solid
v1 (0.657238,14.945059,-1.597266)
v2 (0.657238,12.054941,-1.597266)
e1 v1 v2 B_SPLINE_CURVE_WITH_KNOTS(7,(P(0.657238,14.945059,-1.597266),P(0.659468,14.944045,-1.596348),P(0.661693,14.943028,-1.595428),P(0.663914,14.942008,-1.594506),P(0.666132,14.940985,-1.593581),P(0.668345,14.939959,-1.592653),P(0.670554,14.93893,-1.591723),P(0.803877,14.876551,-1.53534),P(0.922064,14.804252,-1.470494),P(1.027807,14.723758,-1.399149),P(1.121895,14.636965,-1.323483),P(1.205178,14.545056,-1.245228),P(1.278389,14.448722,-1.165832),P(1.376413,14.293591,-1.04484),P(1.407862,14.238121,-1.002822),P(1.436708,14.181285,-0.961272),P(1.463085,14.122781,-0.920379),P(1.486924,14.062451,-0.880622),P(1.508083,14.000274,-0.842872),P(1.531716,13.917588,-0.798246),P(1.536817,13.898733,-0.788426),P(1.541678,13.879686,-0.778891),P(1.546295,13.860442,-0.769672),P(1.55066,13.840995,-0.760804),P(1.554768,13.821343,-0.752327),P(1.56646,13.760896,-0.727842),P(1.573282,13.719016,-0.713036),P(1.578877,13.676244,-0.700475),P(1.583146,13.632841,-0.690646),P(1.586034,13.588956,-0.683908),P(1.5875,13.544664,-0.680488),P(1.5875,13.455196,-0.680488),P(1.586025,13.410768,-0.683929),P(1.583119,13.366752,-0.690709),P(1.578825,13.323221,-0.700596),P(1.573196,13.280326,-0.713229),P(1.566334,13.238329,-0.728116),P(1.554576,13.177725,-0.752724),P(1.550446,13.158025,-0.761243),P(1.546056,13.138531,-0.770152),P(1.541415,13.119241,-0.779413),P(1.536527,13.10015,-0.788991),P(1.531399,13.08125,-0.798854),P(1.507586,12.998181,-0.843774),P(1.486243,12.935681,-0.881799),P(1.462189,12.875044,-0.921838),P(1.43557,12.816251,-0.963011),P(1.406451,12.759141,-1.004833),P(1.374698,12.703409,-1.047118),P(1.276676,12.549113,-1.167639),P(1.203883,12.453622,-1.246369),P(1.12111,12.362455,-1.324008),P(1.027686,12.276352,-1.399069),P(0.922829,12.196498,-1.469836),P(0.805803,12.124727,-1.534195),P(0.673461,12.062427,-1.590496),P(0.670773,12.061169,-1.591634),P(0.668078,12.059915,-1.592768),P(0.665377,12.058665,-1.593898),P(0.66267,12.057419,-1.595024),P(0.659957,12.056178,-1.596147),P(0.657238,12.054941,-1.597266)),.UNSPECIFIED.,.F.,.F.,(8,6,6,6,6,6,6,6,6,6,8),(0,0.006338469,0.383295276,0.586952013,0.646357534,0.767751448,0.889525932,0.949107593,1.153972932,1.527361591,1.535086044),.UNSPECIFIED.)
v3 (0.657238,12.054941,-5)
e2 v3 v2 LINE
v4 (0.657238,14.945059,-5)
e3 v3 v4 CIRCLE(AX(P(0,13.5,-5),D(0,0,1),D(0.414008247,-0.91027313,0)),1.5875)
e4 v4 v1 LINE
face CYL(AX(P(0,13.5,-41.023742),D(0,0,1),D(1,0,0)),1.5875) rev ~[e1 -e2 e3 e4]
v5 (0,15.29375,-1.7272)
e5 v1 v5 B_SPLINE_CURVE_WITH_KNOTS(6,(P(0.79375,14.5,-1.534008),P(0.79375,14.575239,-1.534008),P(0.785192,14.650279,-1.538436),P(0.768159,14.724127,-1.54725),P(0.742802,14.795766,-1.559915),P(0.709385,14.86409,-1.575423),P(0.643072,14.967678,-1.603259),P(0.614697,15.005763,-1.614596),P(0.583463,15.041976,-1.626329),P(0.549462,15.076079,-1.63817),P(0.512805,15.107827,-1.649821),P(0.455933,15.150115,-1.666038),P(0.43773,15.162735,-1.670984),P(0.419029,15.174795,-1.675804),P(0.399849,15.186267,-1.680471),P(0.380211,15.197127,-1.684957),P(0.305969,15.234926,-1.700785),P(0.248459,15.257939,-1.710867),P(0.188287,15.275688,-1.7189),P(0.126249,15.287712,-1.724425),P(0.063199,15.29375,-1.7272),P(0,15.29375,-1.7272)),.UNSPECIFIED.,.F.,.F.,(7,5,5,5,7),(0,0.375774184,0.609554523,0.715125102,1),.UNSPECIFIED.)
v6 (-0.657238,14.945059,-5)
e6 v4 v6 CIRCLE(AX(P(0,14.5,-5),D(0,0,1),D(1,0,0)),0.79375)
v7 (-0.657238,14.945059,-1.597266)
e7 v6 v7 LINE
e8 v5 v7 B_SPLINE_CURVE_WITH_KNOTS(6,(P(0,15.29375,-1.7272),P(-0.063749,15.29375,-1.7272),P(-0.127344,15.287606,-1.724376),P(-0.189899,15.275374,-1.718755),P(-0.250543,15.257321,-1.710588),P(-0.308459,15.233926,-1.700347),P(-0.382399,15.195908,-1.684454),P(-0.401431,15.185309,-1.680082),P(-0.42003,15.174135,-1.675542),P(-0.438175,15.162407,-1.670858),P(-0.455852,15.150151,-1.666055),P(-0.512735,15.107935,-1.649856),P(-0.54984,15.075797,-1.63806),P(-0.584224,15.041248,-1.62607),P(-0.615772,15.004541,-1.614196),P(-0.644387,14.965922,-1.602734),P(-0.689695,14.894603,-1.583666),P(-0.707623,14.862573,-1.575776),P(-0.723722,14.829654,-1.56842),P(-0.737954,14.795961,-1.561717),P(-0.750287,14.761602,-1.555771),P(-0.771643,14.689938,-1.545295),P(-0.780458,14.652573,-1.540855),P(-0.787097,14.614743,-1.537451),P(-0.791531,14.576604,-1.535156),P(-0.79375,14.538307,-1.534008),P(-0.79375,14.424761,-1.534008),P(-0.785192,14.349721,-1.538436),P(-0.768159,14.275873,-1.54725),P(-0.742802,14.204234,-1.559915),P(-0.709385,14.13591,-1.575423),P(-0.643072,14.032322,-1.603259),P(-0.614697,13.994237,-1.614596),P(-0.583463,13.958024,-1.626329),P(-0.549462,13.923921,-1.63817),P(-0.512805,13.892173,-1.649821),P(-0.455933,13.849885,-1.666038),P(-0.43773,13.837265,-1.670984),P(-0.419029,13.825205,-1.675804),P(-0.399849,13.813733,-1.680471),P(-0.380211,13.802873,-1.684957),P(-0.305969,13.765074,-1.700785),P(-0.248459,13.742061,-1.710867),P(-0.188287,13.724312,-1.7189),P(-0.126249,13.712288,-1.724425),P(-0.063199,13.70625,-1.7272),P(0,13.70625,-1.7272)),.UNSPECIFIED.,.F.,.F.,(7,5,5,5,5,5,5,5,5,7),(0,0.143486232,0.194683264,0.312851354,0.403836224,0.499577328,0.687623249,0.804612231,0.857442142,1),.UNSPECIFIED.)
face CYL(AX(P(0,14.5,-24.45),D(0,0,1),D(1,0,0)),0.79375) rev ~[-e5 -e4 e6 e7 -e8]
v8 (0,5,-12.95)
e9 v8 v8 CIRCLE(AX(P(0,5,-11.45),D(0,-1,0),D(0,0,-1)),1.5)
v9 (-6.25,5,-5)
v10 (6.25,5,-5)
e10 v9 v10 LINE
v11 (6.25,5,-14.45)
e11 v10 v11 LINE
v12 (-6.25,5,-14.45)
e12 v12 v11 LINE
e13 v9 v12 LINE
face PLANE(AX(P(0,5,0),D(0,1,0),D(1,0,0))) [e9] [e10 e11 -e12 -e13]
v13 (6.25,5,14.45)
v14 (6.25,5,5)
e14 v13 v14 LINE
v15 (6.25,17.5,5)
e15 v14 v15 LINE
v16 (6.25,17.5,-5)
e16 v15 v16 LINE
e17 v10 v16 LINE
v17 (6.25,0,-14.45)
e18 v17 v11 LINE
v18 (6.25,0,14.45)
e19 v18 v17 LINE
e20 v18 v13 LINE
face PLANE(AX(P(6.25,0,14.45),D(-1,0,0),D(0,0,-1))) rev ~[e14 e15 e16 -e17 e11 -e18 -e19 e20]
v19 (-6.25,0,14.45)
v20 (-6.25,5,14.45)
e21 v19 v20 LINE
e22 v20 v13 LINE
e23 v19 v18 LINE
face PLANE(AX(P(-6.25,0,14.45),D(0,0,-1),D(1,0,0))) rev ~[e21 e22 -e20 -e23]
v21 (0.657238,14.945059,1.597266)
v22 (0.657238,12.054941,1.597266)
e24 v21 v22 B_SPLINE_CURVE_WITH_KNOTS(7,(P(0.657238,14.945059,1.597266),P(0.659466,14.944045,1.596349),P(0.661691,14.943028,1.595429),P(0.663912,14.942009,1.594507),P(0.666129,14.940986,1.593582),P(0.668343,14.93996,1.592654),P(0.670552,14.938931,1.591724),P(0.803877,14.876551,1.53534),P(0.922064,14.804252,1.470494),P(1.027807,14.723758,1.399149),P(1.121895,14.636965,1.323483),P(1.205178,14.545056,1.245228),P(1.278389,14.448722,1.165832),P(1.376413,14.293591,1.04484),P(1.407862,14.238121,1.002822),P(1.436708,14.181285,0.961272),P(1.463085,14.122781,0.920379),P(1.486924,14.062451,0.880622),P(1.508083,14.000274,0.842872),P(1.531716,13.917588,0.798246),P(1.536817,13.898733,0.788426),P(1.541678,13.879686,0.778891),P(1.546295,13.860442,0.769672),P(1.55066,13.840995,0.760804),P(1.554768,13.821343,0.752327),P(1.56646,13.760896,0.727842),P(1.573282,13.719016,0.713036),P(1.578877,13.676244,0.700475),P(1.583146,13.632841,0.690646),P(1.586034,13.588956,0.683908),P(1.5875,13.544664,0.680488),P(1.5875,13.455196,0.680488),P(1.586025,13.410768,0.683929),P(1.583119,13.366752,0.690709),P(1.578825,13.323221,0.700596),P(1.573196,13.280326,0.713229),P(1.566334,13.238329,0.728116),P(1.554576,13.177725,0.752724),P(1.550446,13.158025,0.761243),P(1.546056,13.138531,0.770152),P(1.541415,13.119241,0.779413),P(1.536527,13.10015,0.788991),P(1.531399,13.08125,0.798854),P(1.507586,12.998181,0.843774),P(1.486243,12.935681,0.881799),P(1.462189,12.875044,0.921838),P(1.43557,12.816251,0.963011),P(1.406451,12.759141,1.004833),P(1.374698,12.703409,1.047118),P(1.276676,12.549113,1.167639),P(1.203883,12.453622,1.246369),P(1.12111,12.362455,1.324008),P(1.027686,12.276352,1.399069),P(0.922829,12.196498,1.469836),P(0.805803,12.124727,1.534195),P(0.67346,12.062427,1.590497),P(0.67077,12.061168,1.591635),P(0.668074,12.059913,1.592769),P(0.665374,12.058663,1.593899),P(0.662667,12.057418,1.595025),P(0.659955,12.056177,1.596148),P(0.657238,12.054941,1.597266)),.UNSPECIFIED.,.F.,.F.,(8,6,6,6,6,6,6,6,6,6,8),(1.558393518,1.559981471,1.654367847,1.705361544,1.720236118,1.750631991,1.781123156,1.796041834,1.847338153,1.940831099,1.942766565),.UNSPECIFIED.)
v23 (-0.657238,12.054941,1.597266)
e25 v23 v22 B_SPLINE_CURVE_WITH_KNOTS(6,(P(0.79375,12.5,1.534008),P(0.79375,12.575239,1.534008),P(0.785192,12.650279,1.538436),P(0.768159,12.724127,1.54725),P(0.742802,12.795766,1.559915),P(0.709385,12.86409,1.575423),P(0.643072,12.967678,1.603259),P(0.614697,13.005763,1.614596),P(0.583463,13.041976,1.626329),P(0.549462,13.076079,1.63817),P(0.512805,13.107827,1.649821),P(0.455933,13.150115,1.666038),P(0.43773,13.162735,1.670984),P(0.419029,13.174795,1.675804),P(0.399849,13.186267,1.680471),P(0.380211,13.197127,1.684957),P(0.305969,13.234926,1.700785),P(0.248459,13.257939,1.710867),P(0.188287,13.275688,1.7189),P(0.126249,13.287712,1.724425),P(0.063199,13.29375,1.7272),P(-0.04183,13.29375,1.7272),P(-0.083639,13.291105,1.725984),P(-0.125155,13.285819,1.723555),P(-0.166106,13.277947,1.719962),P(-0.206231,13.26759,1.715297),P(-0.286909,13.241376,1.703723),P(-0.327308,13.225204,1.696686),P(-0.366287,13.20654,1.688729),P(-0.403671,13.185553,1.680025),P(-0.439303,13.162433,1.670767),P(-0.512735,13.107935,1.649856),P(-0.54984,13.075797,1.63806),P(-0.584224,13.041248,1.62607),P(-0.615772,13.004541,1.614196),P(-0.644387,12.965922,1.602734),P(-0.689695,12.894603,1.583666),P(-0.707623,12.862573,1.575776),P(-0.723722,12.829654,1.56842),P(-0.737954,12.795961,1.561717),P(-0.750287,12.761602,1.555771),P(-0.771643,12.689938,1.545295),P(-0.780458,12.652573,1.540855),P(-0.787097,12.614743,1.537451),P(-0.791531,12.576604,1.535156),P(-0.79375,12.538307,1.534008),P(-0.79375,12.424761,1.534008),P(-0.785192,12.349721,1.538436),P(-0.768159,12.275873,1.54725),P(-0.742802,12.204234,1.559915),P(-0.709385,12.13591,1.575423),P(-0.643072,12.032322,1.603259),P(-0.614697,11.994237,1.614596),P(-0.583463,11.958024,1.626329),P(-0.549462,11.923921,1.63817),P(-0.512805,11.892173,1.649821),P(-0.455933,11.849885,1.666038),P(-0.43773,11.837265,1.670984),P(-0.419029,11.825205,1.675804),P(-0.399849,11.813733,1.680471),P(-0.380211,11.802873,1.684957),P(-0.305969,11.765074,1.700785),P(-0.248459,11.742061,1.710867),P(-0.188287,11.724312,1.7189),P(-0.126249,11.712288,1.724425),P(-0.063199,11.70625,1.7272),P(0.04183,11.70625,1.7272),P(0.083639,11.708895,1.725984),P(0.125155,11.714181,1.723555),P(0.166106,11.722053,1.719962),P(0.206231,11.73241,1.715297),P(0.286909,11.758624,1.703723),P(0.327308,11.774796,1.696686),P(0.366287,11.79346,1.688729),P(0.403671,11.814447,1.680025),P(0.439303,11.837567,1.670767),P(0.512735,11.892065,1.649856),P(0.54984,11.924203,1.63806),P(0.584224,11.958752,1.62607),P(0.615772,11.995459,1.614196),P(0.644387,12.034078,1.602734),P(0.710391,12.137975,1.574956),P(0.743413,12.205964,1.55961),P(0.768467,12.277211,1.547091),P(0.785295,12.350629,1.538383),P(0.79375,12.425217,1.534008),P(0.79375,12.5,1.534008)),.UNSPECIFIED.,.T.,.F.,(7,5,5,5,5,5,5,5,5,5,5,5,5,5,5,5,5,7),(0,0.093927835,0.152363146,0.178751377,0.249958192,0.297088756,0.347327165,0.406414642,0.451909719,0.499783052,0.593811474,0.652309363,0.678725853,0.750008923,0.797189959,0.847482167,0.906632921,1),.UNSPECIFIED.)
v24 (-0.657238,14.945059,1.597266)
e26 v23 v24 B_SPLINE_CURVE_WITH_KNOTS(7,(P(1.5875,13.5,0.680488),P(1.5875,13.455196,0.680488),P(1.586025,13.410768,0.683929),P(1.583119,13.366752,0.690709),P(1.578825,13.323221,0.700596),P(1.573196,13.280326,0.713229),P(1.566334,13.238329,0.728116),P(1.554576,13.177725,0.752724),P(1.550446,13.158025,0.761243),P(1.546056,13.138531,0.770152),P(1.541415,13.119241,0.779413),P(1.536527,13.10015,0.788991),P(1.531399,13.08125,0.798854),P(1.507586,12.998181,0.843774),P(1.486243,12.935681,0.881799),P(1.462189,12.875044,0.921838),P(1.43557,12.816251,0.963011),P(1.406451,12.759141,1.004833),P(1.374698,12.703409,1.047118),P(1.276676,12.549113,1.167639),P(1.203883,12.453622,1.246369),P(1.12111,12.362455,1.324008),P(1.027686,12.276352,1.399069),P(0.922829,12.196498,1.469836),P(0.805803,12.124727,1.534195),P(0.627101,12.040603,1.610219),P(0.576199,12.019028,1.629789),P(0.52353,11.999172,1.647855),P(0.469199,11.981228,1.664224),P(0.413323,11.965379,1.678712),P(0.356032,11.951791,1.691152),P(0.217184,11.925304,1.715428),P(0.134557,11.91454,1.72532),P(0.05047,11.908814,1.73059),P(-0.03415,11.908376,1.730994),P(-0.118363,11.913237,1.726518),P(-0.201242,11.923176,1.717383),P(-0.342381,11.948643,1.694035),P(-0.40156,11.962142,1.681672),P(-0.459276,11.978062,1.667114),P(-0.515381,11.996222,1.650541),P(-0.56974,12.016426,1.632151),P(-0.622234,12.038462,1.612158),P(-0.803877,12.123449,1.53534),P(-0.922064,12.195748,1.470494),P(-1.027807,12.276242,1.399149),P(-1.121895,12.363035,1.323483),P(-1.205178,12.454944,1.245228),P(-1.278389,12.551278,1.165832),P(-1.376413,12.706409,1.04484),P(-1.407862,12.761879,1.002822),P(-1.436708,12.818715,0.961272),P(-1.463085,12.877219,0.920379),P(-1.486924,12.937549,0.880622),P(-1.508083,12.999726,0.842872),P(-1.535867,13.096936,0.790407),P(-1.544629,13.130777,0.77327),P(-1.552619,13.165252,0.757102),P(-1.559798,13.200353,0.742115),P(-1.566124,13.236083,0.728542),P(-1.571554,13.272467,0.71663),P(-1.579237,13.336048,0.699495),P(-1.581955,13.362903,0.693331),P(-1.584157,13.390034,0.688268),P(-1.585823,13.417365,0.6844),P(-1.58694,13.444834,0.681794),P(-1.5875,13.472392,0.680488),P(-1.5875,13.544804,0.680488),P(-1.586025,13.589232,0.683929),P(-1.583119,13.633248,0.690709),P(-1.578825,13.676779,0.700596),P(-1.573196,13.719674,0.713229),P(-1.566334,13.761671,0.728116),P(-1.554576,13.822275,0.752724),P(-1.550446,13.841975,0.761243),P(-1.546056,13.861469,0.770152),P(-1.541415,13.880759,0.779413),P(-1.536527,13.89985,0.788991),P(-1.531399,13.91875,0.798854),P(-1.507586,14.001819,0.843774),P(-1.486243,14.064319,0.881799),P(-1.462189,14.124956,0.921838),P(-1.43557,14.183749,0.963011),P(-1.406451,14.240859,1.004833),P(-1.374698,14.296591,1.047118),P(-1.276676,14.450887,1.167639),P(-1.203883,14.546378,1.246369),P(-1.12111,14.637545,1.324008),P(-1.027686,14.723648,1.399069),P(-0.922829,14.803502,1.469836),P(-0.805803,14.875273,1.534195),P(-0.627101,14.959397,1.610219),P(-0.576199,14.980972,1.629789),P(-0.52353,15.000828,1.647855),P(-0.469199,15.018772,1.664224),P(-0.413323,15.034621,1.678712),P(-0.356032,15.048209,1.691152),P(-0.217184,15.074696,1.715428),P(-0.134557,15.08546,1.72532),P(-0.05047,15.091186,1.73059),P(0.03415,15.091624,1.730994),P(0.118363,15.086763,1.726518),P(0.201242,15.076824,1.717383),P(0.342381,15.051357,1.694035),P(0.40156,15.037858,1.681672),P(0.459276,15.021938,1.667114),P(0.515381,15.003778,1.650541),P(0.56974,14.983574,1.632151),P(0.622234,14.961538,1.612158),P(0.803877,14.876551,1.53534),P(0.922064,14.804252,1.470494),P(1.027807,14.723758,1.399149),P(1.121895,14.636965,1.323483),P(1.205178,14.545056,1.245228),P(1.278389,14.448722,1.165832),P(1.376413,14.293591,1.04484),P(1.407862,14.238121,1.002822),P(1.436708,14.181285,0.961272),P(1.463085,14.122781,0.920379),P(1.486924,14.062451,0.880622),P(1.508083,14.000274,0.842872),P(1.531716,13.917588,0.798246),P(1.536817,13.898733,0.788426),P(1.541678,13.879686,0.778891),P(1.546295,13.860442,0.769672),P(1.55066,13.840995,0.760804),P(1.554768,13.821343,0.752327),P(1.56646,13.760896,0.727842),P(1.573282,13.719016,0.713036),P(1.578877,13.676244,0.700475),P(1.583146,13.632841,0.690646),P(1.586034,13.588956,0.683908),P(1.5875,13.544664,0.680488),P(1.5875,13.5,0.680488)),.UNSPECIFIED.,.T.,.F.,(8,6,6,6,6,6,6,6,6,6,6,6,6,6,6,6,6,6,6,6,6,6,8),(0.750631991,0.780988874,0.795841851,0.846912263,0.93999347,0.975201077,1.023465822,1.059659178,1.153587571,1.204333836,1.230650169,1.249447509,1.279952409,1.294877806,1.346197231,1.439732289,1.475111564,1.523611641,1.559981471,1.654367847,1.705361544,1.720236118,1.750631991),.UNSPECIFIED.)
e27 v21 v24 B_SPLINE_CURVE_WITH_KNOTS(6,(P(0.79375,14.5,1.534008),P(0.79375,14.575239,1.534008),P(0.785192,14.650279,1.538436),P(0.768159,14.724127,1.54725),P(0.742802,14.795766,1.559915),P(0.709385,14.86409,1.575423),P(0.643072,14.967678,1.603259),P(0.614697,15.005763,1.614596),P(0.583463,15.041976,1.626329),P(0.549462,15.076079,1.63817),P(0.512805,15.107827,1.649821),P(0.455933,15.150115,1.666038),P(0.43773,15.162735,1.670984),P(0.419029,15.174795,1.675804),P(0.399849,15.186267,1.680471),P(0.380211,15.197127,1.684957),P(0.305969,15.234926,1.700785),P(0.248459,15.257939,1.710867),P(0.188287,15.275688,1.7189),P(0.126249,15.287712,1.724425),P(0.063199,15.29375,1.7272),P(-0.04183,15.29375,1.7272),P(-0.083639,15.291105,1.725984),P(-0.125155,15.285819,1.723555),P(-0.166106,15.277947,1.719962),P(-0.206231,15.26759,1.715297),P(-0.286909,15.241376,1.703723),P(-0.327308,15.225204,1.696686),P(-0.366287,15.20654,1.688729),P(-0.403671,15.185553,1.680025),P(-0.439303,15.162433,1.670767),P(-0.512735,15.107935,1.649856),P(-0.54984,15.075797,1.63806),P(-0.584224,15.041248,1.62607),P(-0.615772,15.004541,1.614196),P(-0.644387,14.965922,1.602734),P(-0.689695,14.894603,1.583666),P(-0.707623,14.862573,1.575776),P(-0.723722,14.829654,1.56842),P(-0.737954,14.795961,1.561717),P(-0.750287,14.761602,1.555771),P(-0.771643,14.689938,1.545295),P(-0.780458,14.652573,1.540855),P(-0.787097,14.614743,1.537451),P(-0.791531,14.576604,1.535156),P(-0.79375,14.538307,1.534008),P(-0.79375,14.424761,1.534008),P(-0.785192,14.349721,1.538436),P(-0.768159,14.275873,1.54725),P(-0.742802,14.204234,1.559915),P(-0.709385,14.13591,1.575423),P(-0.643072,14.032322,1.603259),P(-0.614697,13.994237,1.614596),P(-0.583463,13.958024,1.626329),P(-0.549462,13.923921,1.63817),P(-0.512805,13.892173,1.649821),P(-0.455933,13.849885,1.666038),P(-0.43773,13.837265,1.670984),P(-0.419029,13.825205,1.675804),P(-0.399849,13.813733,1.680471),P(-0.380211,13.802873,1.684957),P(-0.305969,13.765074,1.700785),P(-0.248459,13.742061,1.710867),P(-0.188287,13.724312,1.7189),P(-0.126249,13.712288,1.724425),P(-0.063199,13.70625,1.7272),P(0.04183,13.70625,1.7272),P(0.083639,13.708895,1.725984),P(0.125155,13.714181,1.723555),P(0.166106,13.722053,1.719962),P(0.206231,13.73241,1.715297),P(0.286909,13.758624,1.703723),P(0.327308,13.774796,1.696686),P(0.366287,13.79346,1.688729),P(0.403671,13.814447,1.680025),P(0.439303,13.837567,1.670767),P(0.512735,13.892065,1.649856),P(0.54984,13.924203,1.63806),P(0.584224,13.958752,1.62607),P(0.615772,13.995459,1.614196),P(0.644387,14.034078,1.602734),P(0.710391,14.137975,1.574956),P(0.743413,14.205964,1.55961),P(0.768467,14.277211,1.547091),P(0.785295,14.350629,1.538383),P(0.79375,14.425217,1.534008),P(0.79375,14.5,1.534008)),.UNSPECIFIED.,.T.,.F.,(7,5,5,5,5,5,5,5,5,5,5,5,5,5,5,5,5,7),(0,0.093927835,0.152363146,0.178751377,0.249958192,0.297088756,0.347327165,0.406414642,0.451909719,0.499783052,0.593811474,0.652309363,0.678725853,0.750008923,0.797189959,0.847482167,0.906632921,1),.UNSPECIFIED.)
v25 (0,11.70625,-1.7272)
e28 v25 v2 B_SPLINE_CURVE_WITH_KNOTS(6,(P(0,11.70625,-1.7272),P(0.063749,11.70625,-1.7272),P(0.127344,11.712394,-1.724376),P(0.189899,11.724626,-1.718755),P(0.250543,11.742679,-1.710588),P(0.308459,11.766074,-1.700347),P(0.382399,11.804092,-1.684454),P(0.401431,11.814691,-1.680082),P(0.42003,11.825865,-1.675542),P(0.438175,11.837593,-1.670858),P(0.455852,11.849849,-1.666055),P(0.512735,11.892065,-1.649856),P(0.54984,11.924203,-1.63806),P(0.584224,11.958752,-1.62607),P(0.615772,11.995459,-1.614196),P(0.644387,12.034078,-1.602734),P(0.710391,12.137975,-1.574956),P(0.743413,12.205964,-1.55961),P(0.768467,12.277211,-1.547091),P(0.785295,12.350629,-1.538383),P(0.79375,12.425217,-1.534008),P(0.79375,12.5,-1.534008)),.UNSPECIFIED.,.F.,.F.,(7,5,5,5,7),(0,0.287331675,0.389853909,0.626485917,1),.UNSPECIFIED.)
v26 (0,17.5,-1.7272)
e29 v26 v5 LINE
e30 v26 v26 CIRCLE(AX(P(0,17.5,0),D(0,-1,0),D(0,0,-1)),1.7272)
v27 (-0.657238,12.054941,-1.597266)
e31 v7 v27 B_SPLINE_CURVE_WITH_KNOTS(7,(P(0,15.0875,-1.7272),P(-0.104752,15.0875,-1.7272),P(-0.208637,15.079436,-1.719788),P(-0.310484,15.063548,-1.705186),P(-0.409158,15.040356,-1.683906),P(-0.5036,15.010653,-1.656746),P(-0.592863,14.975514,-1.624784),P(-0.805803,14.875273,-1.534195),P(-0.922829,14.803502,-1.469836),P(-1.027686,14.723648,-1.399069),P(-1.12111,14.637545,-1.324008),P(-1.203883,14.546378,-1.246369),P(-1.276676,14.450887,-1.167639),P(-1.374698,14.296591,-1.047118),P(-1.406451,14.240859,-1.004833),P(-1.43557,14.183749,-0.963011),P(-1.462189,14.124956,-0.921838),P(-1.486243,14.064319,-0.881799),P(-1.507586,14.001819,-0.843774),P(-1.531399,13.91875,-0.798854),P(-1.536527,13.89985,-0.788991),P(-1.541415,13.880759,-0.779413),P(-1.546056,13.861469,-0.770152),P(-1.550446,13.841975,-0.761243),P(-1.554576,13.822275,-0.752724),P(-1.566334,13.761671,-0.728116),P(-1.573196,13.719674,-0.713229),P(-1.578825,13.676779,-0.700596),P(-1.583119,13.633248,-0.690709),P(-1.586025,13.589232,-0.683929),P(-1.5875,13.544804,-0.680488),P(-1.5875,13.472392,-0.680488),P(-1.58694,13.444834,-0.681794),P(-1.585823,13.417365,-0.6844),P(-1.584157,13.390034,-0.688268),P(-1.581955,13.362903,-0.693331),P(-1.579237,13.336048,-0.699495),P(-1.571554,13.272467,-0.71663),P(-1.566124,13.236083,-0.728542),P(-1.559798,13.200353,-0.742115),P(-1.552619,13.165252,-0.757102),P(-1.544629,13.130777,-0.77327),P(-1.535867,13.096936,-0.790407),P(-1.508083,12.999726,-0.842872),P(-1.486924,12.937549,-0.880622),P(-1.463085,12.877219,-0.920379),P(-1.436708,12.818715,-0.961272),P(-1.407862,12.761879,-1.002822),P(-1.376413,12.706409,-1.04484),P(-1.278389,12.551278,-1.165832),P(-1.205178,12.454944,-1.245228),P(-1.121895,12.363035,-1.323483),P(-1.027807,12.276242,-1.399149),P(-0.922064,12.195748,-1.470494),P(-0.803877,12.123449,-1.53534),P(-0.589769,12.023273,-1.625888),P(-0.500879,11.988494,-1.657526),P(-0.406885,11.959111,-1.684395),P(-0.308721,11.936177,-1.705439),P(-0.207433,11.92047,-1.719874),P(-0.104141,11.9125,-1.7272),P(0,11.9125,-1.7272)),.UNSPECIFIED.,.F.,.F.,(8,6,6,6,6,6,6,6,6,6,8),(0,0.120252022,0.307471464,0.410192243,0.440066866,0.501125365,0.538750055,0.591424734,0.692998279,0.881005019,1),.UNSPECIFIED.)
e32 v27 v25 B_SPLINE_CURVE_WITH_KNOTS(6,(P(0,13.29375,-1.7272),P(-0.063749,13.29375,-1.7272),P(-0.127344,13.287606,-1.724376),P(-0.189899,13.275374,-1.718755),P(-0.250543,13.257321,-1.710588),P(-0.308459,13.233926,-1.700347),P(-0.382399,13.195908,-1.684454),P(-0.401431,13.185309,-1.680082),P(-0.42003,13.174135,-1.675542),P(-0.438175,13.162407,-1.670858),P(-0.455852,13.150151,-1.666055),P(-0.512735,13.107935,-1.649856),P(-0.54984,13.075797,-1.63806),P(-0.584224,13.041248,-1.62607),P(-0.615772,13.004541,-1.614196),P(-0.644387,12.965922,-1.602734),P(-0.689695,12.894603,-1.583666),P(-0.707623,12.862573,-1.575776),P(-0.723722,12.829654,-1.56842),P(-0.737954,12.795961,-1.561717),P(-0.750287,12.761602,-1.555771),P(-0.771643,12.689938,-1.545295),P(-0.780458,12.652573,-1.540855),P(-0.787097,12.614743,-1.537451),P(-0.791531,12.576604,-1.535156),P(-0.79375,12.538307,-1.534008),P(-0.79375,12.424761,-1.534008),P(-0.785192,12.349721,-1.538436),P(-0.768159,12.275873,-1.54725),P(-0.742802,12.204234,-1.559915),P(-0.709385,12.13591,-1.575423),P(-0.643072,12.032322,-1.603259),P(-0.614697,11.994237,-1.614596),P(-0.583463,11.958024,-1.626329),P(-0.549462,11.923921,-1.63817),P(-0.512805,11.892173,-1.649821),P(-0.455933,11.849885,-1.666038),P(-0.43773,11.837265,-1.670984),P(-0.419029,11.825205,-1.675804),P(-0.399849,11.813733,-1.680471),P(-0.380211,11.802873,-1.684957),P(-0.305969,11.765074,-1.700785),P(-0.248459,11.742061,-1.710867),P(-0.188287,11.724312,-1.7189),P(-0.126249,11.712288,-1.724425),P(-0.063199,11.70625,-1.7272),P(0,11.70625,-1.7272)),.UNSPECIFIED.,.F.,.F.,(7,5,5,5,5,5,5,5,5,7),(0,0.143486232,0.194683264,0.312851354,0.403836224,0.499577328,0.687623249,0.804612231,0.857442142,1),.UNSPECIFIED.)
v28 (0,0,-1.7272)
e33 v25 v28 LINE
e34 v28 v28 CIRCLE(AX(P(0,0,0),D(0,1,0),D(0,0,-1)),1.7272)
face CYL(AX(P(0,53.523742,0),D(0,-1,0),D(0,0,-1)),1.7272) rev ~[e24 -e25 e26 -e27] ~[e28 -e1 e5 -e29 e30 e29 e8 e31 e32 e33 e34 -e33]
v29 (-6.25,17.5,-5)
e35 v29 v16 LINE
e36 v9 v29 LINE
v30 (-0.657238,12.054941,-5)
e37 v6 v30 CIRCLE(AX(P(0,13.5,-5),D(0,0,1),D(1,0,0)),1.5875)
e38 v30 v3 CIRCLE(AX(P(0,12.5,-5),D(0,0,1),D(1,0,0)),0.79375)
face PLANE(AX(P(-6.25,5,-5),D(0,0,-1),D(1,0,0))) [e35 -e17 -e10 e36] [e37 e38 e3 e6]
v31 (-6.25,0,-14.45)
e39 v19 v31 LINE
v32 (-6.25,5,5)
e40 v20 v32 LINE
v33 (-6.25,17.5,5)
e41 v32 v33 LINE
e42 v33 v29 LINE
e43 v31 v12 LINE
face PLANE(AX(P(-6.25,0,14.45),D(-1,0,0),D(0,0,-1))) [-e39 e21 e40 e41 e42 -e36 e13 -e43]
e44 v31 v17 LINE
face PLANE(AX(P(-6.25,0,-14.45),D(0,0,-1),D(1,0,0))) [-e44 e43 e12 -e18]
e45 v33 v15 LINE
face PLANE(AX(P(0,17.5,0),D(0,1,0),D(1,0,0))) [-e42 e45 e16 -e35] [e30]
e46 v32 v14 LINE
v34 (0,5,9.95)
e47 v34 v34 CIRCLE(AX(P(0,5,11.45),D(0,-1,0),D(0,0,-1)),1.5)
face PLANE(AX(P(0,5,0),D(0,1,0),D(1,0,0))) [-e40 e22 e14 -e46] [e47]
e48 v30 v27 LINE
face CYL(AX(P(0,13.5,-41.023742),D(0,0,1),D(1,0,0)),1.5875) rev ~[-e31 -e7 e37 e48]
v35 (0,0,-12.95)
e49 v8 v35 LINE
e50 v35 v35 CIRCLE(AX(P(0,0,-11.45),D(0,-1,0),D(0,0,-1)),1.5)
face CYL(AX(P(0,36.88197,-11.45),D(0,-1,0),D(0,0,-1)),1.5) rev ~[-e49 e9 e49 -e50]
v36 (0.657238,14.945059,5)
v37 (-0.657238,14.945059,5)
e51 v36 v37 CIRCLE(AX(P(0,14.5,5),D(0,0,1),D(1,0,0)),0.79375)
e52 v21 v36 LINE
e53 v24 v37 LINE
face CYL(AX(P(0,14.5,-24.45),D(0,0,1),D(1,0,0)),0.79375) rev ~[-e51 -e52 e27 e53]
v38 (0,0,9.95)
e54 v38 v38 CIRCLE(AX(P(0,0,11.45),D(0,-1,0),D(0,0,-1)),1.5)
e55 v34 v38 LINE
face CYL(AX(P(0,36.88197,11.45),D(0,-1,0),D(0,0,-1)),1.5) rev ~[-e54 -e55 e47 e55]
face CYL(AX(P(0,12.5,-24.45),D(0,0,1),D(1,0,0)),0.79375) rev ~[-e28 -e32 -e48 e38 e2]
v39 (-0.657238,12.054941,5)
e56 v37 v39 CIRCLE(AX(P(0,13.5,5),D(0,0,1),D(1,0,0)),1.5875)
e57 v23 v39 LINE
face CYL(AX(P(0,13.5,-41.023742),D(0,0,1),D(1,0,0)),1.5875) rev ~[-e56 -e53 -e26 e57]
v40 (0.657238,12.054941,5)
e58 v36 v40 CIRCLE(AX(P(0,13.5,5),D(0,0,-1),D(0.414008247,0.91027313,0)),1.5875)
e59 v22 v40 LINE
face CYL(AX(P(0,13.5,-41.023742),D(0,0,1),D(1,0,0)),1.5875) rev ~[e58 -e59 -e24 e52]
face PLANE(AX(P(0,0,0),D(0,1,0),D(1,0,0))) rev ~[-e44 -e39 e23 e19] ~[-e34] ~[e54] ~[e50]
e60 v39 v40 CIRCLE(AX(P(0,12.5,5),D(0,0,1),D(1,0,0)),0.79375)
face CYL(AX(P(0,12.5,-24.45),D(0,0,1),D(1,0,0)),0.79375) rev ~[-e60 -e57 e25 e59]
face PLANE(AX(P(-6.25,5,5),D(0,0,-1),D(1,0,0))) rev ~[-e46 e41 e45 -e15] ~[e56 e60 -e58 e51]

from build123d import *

# Parameters (mm, degrees)
SKETCH1_W                          = 12.5
SKETCH1_H                          = 28.9
EXTRUDE1_DEPTH                     = 5
F_3_0_3_DIAMETER_HOLE1_D           = 3
SKETCH5_W                          = 12.5
SKETCH5_H                          = 10
EXTRUDE3_DEPTH                     = 12.5
F_1_8_0_125_DIAMETER_HOLE1_D       = 3.175
F_8_32_TAPPED_HOLE1_D              = 3.4544
F_8_32_TAPPED_HOLE1_ON_FACE_2_D    = 3.4544
F_1_16_0_0625_DIAMETER_HOLE2_D     = 1.5875
F_1_16_0_0625_DIAMETER_HOLE2_DEPTH = 19.45
F_1_16_0_0625_DIAMETER_HOLE2_TIP   = 0.476933116


with BuildPart() as part:
    # Sketch1 → Extrude1 (new body)
    with BuildSketch(Plane(origin=(0, 0, 0), x_dir=(1, 0, 0), z_dir=(0, 1, 0))):
        Rectangle(SKETCH1_W, SKETCH1_H)
    extrude(amount=EXTRUDE1_DEPTH)

    # Ø3.0 (3) Diameter Hole1 (through all)
    with Locations(Plane(origin=(0, 5, -11.45), x_dir=(0, 0, 1), z_dir=(0, 1, 0))):
        with Locations((0, 0), (22.9, 0)):
            Hole(F_3_0_3_DIAMETER_HOLE1_D / 2)

    # Sketch5 → Extrude3 (add)
    with BuildSketch(Plane(origin=(0, 5, 0), x_dir=(1, 0, 0), z_dir=(0, 1, 0))):
        Rectangle(SKETCH5_W, SKETCH5_H)
    extrude(amount=EXTRUDE3_DEPTH)

    # 1/8 (0.125) Diameter Hole1 (through all)
    with Locations(Plane(origin=(0, 13.5, -5), x_dir=(-1, 0, 0), z_dir=(0, 0, -1))):
        with Locations((0, 0)):
            Hole(F_1_8_0_125_DIAMETER_HOLE1_D / 2)

    # #8-32 Tapped Hole1 (through all)
    with Locations(Plane.ZX.offset(17.5)):
        with Locations((0, 0)):
            Hole(F_8_32_TAPPED_HOLE1_D / 2)

    # #8-32 Tapped Hole1 on face 2 (through all)
    with Locations(Plane(origin=(0, 0, 0), x_dir=(0, 0, -1), z_dir=(0, -1, 0))):
        with Locations((0, 0)):
            Hole(F_8_32_TAPPED_HOLE1_ON_FACE_2_D / 2)

    # 1/16 (0.0625) Diameter Hole2
    with Locations(Plane(origin=(0, 14.5, -5), x_dir=(-1, 0, 0), z_dir=(0, 0, -1))):
        with Locations((0, 0), (0, -2)):
            Hole(F_1_16_0_0625_DIAMETER_HOLE2_D / 2, depth=F_1_16_0_0625_DIAMETER_HOLE2_DEPTH)
            with Locations((0, 0, -(F_1_16_0_0625_DIAMETER_HOLE2_DEPTH + F_1_16_0_0625_DIAMETER_HOLE2_TIP / 2))):  # 118° drill point
                Cone(0, F_1_16_0_0625_DIAMETER_HOLE2_D / 2, F_1_16_0_0625_DIAMETER_HOLE2_TIP, mode=Mode.SUBTRACT)


solid = part.part
